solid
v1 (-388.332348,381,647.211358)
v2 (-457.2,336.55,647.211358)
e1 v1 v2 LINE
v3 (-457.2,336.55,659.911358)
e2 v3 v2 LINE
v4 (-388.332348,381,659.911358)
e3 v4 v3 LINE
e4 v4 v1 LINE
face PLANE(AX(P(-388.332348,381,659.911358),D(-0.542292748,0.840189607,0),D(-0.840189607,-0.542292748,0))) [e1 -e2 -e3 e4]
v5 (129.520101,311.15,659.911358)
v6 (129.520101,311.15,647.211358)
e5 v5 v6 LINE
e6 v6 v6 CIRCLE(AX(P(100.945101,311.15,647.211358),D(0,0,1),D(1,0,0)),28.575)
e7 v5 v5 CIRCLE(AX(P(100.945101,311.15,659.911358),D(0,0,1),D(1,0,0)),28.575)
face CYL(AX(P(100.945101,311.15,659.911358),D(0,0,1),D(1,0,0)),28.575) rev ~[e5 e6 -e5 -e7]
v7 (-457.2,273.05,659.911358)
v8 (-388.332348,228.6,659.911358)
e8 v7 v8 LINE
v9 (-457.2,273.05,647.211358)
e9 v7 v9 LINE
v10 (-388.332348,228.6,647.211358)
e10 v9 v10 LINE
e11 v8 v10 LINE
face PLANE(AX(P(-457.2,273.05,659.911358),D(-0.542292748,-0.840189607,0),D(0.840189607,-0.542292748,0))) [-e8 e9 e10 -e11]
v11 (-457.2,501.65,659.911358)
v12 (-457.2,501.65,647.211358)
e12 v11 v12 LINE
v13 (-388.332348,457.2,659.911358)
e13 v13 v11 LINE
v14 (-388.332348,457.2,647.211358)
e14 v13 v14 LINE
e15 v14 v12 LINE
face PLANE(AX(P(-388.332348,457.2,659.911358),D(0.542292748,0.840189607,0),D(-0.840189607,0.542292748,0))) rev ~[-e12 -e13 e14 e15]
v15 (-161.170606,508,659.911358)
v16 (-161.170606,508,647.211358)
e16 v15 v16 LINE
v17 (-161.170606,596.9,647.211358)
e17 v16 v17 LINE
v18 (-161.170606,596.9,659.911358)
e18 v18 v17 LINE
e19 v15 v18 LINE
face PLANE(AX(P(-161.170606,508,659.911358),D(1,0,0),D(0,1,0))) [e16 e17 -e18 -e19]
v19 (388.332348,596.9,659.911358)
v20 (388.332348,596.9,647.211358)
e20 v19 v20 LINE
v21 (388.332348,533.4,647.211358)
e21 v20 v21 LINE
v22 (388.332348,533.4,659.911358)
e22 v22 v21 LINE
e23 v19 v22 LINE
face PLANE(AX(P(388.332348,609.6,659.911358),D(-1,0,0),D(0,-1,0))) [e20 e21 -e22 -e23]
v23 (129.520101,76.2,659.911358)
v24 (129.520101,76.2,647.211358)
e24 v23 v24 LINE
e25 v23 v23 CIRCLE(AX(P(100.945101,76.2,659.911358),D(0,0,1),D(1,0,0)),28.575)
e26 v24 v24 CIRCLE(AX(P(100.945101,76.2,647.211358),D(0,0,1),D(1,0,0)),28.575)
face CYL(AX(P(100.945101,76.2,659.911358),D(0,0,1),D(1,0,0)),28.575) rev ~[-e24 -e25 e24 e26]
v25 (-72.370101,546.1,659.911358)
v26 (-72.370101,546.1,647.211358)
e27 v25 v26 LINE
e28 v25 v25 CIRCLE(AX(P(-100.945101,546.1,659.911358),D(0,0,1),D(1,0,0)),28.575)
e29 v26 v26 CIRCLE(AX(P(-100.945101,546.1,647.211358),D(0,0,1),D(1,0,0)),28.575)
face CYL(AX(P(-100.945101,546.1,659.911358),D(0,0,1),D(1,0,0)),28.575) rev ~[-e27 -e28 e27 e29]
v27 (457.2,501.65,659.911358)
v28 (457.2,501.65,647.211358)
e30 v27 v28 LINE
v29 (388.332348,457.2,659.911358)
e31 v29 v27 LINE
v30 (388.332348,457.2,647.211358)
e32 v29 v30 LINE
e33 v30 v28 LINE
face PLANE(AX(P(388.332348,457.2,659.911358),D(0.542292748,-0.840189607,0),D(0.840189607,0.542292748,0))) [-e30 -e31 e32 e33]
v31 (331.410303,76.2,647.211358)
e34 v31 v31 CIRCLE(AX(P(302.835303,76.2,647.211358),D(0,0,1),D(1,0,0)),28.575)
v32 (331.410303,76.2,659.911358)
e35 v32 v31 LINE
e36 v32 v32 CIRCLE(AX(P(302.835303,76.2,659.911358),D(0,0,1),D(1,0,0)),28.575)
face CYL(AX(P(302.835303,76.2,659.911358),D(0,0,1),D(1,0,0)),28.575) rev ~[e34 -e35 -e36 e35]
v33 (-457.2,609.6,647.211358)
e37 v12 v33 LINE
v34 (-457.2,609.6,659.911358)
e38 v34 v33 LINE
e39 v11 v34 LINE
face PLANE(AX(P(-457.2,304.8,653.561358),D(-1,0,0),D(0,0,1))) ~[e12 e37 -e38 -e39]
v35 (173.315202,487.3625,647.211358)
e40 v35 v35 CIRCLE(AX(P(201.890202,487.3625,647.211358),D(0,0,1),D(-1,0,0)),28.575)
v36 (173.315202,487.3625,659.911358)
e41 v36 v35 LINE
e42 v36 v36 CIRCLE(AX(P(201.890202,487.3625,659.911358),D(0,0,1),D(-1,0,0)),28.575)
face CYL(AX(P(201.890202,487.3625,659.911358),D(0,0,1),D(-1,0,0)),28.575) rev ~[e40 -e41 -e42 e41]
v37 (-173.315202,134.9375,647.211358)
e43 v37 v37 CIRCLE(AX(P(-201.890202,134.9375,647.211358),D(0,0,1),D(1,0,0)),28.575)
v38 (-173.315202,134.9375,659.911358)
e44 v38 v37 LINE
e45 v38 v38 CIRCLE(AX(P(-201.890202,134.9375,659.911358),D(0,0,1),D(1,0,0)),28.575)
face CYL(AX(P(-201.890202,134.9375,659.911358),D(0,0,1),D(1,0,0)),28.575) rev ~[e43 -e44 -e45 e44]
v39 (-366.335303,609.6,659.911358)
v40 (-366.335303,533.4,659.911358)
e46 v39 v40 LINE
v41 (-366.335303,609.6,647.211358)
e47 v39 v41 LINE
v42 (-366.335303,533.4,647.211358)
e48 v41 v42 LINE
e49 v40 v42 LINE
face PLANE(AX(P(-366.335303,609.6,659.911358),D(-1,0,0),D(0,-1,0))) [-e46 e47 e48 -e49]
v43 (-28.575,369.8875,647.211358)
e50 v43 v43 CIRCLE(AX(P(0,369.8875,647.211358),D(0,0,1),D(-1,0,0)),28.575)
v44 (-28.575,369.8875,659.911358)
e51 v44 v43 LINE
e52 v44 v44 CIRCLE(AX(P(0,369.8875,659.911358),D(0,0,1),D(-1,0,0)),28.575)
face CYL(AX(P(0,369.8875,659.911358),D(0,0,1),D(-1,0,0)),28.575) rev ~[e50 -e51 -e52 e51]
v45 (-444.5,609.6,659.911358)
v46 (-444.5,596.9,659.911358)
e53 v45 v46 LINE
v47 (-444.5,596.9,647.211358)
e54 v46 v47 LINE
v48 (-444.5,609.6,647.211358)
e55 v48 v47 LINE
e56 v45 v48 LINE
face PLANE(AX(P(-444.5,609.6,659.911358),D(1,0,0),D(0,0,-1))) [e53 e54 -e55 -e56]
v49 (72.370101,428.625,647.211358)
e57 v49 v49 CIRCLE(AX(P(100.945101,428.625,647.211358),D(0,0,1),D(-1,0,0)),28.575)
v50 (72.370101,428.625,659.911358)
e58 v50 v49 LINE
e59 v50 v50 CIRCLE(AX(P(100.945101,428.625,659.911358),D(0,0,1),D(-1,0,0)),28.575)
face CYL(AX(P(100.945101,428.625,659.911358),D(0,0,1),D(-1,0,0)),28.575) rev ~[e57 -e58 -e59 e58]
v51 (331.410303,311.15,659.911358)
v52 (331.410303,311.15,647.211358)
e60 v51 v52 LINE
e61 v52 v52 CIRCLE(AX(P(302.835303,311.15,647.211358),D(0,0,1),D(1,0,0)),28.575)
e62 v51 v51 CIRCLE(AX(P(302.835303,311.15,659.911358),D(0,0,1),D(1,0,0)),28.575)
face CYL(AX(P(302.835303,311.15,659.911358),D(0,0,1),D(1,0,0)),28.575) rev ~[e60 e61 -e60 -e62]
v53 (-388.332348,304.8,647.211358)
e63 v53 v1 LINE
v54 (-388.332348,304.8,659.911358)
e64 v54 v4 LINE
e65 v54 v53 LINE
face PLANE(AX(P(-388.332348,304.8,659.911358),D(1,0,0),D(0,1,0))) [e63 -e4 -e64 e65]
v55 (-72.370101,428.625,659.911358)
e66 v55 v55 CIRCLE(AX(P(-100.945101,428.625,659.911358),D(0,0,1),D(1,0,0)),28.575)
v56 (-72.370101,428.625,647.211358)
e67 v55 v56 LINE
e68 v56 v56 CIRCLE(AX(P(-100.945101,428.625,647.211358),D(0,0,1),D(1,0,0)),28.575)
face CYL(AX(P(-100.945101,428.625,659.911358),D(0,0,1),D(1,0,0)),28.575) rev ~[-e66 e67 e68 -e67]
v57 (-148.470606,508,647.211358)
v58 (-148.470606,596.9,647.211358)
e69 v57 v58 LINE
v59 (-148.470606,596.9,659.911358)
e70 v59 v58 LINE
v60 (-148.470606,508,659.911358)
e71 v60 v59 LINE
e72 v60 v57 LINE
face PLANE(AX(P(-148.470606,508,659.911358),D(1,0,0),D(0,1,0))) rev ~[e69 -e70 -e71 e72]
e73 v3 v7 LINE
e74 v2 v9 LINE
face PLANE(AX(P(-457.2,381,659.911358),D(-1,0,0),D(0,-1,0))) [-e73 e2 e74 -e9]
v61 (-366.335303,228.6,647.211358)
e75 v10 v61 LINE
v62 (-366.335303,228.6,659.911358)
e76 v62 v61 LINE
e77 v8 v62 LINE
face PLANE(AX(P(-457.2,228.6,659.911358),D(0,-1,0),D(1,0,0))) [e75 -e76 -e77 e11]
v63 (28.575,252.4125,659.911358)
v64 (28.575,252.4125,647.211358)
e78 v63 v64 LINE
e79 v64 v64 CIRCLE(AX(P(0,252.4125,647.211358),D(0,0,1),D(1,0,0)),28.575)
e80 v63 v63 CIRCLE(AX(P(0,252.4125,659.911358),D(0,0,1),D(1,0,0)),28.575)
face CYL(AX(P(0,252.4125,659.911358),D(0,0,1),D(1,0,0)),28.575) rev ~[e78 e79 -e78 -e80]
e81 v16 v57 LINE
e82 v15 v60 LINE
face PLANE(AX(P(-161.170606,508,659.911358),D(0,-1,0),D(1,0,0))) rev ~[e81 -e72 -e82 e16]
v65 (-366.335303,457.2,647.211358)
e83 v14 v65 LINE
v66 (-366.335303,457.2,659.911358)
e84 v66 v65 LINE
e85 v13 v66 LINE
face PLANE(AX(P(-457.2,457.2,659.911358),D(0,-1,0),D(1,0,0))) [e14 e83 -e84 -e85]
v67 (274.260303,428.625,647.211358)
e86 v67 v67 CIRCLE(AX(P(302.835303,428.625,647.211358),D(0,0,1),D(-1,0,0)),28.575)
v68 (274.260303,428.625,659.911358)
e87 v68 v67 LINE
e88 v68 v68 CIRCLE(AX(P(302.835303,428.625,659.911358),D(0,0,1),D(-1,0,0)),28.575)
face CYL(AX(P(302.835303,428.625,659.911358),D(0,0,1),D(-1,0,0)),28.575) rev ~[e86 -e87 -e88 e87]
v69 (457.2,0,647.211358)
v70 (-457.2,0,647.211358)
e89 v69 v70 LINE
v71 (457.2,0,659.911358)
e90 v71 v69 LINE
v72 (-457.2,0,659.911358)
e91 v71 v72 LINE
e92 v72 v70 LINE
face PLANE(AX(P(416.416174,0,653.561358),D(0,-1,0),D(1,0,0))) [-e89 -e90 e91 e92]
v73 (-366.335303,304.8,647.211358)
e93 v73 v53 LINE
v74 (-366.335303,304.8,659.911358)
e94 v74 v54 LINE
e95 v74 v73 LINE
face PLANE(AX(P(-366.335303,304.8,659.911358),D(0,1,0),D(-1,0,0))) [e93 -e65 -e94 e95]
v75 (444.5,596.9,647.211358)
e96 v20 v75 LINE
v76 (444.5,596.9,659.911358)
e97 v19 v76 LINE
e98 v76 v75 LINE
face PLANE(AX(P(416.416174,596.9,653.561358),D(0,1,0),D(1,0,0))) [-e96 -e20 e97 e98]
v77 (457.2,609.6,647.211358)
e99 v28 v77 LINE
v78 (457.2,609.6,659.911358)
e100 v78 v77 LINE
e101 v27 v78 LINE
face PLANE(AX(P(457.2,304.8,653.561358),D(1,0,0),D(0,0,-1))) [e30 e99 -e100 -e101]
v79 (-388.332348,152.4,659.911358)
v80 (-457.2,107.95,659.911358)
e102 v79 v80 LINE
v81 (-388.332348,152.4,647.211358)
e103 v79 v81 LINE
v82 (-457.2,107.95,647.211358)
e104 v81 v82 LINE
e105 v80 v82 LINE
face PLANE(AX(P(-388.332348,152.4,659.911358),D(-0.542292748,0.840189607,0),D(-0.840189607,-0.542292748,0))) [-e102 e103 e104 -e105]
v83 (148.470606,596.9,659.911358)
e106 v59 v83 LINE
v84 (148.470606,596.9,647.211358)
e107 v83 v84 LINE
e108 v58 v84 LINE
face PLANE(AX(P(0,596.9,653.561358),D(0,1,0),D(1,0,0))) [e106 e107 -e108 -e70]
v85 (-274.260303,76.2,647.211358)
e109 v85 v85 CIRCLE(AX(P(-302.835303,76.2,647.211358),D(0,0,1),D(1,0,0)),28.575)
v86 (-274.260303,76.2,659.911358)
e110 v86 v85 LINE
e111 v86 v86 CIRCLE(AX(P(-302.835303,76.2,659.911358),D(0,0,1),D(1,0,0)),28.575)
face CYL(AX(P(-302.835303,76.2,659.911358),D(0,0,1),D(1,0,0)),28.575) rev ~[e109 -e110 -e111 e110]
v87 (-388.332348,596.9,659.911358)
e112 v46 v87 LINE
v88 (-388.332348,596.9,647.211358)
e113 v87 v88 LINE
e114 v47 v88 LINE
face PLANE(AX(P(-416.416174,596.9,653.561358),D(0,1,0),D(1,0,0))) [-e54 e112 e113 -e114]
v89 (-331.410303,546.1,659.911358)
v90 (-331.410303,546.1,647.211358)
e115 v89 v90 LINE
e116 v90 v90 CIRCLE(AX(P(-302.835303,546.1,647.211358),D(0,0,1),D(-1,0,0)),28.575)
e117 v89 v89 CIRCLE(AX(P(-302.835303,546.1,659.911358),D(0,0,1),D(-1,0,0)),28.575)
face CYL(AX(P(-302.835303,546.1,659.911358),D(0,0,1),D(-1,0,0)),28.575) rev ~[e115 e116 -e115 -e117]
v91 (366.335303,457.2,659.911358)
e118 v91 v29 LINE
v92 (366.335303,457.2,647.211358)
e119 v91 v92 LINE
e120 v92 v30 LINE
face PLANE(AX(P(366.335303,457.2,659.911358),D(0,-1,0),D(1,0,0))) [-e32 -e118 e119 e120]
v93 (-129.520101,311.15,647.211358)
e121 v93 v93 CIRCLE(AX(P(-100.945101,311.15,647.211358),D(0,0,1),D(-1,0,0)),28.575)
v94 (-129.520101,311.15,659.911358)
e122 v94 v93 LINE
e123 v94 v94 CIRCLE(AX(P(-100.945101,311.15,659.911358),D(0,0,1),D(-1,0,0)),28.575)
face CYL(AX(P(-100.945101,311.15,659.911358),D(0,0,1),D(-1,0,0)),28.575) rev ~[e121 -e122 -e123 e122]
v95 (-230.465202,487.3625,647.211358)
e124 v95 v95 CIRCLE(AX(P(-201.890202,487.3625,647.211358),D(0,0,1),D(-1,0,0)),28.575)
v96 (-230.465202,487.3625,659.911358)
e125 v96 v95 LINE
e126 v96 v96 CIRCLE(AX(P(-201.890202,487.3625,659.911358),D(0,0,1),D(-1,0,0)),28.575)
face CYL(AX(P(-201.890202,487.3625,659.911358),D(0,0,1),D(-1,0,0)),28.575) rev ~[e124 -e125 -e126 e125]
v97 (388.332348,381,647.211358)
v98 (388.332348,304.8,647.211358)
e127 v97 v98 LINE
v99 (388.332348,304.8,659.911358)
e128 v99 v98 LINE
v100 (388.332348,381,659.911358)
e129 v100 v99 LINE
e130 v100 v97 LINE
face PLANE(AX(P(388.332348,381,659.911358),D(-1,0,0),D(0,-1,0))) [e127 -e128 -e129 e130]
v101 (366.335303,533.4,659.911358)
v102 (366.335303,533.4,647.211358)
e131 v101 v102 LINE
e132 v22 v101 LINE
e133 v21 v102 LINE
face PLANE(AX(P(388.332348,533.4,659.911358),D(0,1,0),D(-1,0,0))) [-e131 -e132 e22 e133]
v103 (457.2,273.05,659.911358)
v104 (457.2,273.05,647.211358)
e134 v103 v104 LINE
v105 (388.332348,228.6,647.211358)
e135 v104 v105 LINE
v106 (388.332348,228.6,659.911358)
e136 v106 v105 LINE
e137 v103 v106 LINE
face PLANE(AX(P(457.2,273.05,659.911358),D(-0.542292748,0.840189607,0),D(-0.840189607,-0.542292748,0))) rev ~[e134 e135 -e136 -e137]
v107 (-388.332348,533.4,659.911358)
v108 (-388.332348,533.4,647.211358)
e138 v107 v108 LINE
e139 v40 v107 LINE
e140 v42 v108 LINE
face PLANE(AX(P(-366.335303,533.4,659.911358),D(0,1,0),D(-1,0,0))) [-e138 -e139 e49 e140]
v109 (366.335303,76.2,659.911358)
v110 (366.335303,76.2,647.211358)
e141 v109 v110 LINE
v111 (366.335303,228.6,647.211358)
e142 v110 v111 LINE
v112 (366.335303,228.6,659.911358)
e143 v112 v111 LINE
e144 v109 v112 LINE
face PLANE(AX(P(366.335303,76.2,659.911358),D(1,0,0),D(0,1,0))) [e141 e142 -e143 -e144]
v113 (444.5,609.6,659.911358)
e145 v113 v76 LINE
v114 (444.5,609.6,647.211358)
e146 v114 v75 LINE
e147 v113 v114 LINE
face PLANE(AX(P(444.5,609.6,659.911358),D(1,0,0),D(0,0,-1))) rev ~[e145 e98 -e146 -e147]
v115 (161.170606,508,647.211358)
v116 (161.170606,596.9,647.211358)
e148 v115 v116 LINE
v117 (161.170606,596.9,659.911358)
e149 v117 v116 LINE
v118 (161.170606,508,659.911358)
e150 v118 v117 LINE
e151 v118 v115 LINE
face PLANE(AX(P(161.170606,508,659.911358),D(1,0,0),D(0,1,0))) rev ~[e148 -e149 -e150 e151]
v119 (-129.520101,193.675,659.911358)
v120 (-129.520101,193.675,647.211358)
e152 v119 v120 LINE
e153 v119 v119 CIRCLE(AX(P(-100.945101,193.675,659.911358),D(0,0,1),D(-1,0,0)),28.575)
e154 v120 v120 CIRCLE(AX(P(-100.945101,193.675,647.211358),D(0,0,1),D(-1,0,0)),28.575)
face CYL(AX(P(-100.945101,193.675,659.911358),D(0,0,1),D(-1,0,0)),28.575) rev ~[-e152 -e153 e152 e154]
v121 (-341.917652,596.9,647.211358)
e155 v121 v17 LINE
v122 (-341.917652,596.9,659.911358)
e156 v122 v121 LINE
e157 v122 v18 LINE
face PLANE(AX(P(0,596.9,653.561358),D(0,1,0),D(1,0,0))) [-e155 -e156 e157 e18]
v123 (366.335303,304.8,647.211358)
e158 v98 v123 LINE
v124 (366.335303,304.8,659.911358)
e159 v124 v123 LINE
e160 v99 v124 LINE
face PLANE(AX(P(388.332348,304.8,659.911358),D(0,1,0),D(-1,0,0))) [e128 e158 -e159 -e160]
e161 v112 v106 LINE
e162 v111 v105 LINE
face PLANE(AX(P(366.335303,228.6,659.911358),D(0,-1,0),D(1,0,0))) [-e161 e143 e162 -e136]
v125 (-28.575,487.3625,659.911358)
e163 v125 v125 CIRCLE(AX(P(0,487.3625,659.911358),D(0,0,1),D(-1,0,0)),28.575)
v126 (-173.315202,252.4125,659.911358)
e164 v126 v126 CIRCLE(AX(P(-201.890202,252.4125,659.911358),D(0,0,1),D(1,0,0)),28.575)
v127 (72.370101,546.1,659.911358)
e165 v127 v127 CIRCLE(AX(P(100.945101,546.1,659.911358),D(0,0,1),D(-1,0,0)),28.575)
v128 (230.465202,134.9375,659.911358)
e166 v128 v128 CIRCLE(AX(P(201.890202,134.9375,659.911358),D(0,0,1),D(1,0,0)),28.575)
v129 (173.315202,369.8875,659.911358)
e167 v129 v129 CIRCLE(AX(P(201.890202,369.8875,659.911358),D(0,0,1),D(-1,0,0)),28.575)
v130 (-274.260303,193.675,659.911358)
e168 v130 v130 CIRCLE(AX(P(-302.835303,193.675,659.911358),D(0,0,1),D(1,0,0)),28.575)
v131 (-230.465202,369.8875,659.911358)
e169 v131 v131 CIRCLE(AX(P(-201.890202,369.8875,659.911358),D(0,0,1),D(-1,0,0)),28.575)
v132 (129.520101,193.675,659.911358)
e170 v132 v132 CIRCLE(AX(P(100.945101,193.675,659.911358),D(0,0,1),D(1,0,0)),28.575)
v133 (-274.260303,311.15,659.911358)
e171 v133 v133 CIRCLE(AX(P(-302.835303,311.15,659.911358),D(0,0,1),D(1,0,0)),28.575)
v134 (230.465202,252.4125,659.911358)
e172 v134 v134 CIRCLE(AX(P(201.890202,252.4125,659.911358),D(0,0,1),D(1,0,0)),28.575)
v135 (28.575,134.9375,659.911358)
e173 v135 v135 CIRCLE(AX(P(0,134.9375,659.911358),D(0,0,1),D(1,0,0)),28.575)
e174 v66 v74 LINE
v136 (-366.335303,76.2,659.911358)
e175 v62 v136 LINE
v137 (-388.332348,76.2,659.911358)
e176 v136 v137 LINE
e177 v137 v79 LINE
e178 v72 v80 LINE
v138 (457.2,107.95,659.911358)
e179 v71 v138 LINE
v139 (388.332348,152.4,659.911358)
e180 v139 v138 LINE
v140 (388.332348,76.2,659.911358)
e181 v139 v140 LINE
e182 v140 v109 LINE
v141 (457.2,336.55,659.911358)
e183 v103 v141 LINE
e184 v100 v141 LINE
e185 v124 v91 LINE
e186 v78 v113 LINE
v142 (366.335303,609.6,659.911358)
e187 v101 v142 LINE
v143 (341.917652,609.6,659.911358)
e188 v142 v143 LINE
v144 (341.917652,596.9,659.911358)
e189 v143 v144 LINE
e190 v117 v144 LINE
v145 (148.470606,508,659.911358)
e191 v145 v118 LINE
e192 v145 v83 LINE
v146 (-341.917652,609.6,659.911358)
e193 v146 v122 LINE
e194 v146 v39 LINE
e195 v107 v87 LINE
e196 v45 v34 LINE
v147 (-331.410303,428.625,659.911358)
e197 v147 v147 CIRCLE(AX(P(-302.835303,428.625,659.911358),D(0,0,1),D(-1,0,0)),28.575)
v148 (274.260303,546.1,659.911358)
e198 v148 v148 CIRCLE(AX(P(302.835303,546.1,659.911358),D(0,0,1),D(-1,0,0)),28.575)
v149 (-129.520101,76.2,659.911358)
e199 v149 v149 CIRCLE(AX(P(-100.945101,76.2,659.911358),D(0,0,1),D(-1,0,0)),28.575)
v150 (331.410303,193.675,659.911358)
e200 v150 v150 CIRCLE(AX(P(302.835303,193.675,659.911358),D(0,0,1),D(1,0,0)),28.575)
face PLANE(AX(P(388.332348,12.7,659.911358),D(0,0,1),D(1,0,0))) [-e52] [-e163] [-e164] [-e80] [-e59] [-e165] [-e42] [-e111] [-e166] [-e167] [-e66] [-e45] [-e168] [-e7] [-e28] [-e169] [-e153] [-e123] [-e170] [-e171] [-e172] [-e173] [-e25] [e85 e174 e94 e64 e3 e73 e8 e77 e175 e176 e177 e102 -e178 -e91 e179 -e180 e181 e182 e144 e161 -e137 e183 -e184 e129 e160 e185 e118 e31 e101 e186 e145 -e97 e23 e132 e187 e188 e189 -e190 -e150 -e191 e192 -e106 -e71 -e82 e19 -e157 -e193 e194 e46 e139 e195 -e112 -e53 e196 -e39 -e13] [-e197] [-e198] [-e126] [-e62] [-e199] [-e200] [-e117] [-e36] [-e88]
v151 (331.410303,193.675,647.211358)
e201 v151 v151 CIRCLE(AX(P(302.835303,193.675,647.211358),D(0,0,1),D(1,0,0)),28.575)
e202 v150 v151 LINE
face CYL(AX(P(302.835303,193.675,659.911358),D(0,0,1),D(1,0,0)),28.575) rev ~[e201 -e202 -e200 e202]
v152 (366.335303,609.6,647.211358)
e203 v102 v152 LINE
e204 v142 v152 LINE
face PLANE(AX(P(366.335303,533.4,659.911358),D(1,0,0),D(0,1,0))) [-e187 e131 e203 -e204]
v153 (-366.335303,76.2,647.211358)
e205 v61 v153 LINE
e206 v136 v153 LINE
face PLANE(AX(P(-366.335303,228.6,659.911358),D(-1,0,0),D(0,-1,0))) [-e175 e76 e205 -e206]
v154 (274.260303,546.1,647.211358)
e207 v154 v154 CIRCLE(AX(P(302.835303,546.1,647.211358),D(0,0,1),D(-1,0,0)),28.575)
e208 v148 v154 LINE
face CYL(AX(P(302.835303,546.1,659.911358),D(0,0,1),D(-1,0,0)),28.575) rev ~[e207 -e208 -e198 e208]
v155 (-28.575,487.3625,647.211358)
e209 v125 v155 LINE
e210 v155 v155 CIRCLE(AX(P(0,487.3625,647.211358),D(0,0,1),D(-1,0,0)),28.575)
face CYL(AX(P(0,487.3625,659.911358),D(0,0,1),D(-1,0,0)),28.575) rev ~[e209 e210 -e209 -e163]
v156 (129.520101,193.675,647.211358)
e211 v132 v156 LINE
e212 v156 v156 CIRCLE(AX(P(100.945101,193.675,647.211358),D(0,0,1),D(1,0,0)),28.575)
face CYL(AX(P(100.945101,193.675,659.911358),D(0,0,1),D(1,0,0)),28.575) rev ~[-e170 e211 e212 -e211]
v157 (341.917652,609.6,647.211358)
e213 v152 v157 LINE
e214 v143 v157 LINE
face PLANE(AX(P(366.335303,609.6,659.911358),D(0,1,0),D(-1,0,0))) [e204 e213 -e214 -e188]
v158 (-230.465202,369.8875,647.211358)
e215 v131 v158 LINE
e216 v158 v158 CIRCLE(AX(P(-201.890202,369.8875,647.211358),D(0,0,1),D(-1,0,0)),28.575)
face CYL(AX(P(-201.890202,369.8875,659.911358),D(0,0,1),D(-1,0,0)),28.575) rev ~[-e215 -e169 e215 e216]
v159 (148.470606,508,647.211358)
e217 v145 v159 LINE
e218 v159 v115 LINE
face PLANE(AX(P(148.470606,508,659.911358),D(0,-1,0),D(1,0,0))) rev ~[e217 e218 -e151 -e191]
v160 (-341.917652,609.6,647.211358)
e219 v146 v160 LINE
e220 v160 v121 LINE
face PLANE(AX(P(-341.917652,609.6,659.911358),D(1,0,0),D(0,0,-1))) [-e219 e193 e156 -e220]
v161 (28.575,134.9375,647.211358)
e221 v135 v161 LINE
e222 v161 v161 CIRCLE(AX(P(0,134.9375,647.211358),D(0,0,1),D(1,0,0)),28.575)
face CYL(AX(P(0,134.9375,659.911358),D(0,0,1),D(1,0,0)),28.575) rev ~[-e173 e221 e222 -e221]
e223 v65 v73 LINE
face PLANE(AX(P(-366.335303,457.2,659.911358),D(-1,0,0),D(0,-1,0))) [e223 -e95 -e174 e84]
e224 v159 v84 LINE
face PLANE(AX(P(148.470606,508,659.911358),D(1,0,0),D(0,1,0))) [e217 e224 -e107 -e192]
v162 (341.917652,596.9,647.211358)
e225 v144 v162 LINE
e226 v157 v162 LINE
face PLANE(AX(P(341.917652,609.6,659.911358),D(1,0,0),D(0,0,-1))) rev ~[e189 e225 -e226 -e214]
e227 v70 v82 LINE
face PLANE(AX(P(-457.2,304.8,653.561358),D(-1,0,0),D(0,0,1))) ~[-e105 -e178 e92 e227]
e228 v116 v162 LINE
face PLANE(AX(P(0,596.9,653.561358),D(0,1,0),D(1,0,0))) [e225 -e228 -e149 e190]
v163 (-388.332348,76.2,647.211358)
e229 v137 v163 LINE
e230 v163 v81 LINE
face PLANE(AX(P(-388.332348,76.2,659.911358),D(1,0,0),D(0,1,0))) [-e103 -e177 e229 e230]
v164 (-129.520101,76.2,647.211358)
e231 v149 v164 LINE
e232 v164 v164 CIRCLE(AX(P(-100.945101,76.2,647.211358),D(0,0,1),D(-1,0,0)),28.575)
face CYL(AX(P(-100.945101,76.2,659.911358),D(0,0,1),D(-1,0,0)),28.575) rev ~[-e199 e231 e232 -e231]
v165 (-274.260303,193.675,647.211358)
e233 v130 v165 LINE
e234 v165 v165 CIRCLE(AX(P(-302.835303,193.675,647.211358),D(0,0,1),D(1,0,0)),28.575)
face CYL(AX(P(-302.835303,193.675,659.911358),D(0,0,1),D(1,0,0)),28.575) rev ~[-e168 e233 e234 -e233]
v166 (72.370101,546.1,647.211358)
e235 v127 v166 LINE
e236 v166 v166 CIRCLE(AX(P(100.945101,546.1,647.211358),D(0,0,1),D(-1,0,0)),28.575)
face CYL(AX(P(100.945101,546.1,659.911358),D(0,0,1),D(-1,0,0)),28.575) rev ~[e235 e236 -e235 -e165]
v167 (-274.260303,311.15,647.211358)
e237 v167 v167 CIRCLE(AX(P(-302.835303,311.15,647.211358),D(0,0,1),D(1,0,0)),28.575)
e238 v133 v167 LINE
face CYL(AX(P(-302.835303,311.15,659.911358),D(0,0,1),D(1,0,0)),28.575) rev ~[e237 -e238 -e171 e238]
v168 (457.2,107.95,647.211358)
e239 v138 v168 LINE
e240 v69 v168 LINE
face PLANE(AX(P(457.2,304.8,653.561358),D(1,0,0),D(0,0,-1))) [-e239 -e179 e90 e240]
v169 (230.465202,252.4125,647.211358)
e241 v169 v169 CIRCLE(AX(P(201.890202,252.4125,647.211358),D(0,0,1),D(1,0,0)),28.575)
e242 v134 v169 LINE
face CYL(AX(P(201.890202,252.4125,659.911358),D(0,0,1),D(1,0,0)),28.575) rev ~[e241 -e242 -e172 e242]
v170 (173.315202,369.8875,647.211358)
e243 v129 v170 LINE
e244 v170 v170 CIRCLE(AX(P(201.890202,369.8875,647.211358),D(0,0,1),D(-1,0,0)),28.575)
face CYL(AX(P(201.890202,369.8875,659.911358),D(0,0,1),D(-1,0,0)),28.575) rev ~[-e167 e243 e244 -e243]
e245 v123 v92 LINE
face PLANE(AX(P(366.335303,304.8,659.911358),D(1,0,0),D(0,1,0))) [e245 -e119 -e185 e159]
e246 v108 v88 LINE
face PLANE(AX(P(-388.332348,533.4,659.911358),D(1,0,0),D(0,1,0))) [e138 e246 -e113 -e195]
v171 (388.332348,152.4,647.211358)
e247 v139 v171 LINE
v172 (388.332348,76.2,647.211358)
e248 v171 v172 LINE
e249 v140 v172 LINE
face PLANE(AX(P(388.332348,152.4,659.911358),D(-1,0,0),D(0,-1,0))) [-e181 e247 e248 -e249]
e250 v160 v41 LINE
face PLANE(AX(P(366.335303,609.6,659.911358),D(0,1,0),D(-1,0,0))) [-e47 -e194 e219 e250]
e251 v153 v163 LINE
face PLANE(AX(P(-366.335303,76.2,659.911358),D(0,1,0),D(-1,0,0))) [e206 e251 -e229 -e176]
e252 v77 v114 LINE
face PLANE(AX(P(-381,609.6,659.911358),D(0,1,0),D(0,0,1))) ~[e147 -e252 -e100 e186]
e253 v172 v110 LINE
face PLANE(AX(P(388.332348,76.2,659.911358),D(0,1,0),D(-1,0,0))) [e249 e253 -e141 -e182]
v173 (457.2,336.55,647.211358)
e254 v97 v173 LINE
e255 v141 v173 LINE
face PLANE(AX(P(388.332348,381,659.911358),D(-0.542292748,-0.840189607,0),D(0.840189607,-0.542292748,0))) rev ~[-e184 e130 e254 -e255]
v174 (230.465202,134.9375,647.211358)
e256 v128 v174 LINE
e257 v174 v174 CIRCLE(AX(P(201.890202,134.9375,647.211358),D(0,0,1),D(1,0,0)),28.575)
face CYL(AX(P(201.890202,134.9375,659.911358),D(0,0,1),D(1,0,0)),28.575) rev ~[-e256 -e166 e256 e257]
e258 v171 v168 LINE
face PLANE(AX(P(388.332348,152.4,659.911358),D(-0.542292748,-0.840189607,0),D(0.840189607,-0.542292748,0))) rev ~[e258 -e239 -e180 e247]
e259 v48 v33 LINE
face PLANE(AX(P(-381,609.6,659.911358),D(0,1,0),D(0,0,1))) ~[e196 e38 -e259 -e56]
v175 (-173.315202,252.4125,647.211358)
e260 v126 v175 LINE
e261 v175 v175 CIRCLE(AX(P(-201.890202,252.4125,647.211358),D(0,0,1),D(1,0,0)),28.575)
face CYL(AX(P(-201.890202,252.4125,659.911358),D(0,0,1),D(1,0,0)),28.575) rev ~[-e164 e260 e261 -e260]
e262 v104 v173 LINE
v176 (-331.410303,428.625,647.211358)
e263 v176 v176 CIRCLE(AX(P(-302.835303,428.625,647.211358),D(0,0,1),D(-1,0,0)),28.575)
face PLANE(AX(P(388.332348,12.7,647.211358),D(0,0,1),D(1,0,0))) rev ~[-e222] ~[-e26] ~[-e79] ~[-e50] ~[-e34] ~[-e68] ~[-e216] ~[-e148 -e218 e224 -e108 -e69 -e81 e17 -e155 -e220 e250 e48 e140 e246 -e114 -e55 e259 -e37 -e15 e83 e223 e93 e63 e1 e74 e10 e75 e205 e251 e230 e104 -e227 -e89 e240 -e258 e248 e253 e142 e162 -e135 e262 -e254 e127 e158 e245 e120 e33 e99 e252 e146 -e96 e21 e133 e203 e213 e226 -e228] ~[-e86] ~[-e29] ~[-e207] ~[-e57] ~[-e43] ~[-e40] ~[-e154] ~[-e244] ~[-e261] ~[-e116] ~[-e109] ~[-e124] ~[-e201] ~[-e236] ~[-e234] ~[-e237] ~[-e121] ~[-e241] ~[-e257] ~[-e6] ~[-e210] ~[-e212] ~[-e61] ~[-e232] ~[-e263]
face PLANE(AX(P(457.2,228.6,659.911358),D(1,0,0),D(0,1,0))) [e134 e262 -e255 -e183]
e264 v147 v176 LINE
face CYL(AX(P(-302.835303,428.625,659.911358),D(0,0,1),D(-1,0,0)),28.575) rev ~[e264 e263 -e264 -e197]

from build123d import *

# Parameters (mm, degrees)
SKETCH1_W           = 762
SKETCH1_H           = 12.7
BOSS_EXTRUDE1_DEPTH = 609.6
SKETCH2_W           = 12.7
SKETCH2_H           = 609.6
BOSS_EXTRUDE2_DEPTH = 76.2
SKETCH3_OUTSIDE_W   = 1136.21
SKETCH3_OUTSIDE_H   = 831.41
CUT_EXTRUDE1_DEPTH  = 12.7
SKETCH6_W           = 56.167651581
SKETCH6_H           = 12.7
SKETCH6_W_2         = 683.835303162
CUT_EXTRUDE2_DEPTH  = 12.7
CUT_EXTRUDE5_DEPTH  = 12.7
SKETCH7_W           = 12.7
SKETCH7_H           = 88.9
CUT_EXTRUDE3_DEPTH  = 12.7
SKETCH10_R          = 28.575
CUT_EXTRUDE4_DEPTH  = 763.105825985
BOSS_EXTRUDE5_START = -88.9
SKETCH11_W          = 12.7
SKETCH11_H          = 12.7
BOSS_EXTRUDE5_DEPTH = 88.9
SKETCH12_W          = 56.167651581
SKETCH12_H          = 12.7
SKETCH12_W_2        = 683.835303162
BOSS_EXTRUDE6_DEPTH = 12.7


with BuildPart() as part:
    # Sketch1 → Boss-Extrude1 (new body)
    with BuildSketch(Plane(origin=(0, 0, 0), x_dir=(1, 0, 0), z_dir=(0, 1, 0))):
        with Locations((0, -653.561357684)):
            Rectangle(SKETCH1_W, SKETCH1_H)
    extrude(amount=BOSS_EXTRUDE1_DEPTH)

    # Sketch2 → Boss-Extrude2 (add)
    with BuildSketch(Plane(origin=(381, 0, 0), x_dir=(0, 0, -1), z_dir=(1, 0, 0))):
        with Locations((-653.561357684, 304.8)):
            Rectangle(SKETCH2_W, SKETCH2_H)
    boss_extrude2 = extrude(amount=BOSS_EXTRUDE2_DEPTH)

    # Mirror1: Boss-Extrude2 across plane
    add(boss_extrude2.mirror(Plane(origin=(0, 0, 0), x_dir=(0, 0, 1), z_dir=(1, 0, 0))))

    # Sketch3 outside → Cut-Extrude1 (cut)
    with BuildSketch(Plane.XY.offset(659.911357684)):
        with Locations((0, 304.8)):
            Rectangle(SKETCH3_OUTSIDE_W, SKETCH3_OUTSIDE_H)
        Polygon((366.335303163, 609.6), (-366.335303163, 609.6), (-366.335303163, 533.4), (-388.332348419, 533.4), (-388.332348419, 609.6), (-457.2, 609.6), (-457.2, 457.2), (-366.335303163, 457.2), (-366.335303163, 304.8), (-388.332348419, 304.8), (-388.332348419, 381), (-457.2, 381), (-457.2, 228.6), (-366.335303163, 228.6), (-366.335303163, 76.2), (-388.332348419, 76.2), (-388.332348419, 152.4), (-457.2, 152.4), (-457.2, 0), (457.2, 0), (457.2, 152.4), (388.332348419, 152.4), (388.332348419, 76.2), (366.335303163, 76.2), (366.335303163, 228.6), (457.2, 228.6), (457.2, 381), (388.332348419, 381), (388.332348419, 304.8), (366.335303163, 304.8), (366.335303163, 457.2), (457.2, 457.2), (457.2, 609.6), (388.332348419, 609.6), (388.332348419, 533.4), (366.335303163, 533.4), align=None, mode=Mode.SUBTRACT)
    extrude(amount=-CUT_EXTRUDE1_DEPTH, mode=Mode.SUBTRACT)

    # Sketch6 → Cut-Extrude2 (cut)
    with BuildSketch(Plane(origin=(0, 609.6, 0), x_dir=(1, 0, 0), z_dir=(0, 1, 0))):
        with Locations((-416.41617421, -653.561357684)):
            Rectangle(SKETCH6_W, SKETCH6_H)
        with Locations((0, -653.561357684)):
            Rectangle(SKETCH6_W_2, SKETCH6_H)
        with Locations((416.41617421, -653.561357684)):
            Rectangle(SKETCH6_W, SKETCH6_H)
    cut_extrude2 = extrude(amount=-CUT_EXTRUDE2_DEPTH, mode=Mode.SUBTRACT)

    # Sketch14 → Cut-Extrude5 (cut)
    with BuildSketch(Plane.XY.offset(659.911357684)):
        Polygon((-388.332348419, 457.2), (-457.2, 501.65), (-457.2, 457.2), align=None)
        Polygon((-388.332348419, 381), (-457.2, 336.55), (-457.2, 381), align=None)
        Polygon((-388.332348419, 152.4), (-457.2, 107.95), (-457.2, 152.4), align=None)
        Polygon((457.2, 152.4), (388.332348419, 152.4), (457.2, 107.95), align=None)
        Polygon((457.2, 381), (388.332348419, 381), (457.2, 336.55), align=None)
        Polygon((457.2, 457.2), (388.332348419, 457.2), (457.2, 501.65), align=None)
        Polygon((-457.2, 273.05), (-388.332348419, 228.6), (-457.2, 228.6), align=None)
        Polygon((388.332348419, 228.6), (457.2, 228.6), (457.2, 273.05), align=None)
    extrude(amount=-CUT_EXTRUDE5_DEPTH, mode=Mode.SUBTRACT)

    # Sketch7 → Cut-Extrude3 (cut)
    with BuildSketch(Plane.XY.offset(659.911357684)):
        with Locations((154.820606325, 552.45)):
            Rectangle(SKETCH7_W, SKETCH7_H)
        with Locations((-154.820606325, 552.45)):
            Rectangle(SKETCH7_W, SKETCH7_H)
    cut_extrude3 = extrude(amount=-CUT_EXTRUDE3_DEPTH, mode=Mode.SUBTRACT)

    # Mirror2: Cut-Extrude2, Cut-Extrude3 across plane
    add(cut_extrude2.mirror(Plane(origin=(0, 304.8, 0), x_dir=(0, 0, 1), z_dir=(0, -1, 0))), mode=Mode.SUBTRACT)
    add(cut_extrude3.mirror(Plane(origin=(0, 304.8, 0), x_dir=(0, 0, 1), z_dir=(0, -1, 0))), mode=Mode.SUBTRACT)

    # Sketch10 → Cut-Extrude4 (cut, through all)
    with BuildSketch(Plane.XY.offset(659.911357684)):
        with Locations((-302.835303163, 311.15)):
            Circle(SKETCH10_R)
        with Locations((-302.835303163, 193.675)):
            Circle(SKETCH10_R)
        with Locations((-302.835303163, 76.2)):
            Circle(SKETCH10_R)
        with Locations(Location((-100.945101054, 76.2, 0), (0, 0, 180))):
            Circle(SKETCH10_R)
        with Locations(Location((-100.945101054, 193.675, 0), (0, 0, 180))):
            Circle(SKETCH10_R)
        with Locations(Location((-100.945101054, 311.15, 0), (0, 0, 180))):
            Circle(SKETCH10_R)
        with Locations((-201.890202108, 252.4125)):
            Circle(SKETCH10_R)
        with Locations((-201.890202108, 134.9375)):
            Circle(SKETCH10_R)
        with Locations((100.945101054, 193.675)):
            Circle(SKETCH10_R)
        with Locations((302.835303163, 193.675)):
            Circle(SKETCH10_R)
        with Locations((100.945101054, 311.15)):
            Circle(SKETCH10_R)
        with Locations((302.835303163, 311.15)):
            Circle(SKETCH10_R)
        with Locations((100.945101054, 76.2)):
            Circle(SKETCH10_R)
        with Locations((302.835303163, 76.2)):
            Circle(SKETCH10_R)
        with Locations((0, 134.9375)):
            Circle(SKETCH10_R)
        with Locations((0, 252.4125)):
            Circle(SKETCH10_R)
        with Locations((201.890202108, 252.4125)):
            Circle(SKETCH10_R)
        with Locations((201.890202108, 134.9375)):
            Circle(SKETCH10_R)
        with Locations(Location((302.835303163, 546.1, 0), (0, 0, 180))):
            Circle(SKETCH10_R)
        with Locations(Location((302.835303163, 428.625, 0), (0, 0, 180))):
            Circle(SKETCH10_R)
        with Locations(Location((201.890202108, 369.8875, 0), (0, 0, 180))):
            Circle(SKETCH10_R)
        with Locations(Location((201.890202108, 487.3625, 0), (0, 0, 180))):
            Circle(SKETCH10_R)
        with Locations(Location((100.945101054, 546.1, 0), (0, 0, 180))):
            Circle(SKETCH10_R)
        with Locations(Location((100.945101054, 428.625, 0), (0, 0, 180))):
            Circle(SKETCH10_R)
        with Locations(Location((0, 487.3625, 0), (0, 0, 180))):
            Circle(SKETCH10_R)
        with Locations(Location((0, 369.8875, 0), (0, 0, 180))):
            Circle(SKETCH10_R)
        with Locations((-100.945101054, 428.625)):
            Circle(SKETCH10_R)
        with Locations((-100.945101054, 546.1)):
            Circle(SKETCH10_R)
        with Locations(Location((-201.890202108, 487.3625, 0), (0, 0, 180))):
            Circle(SKETCH10_R)
        with Locations(Location((-302.835303163, 546.1, 0), (0, 0, 180))):
            Circle(SKETCH10_R)
        with Locations(Location((-302.835303163, 428.625, 0), (0, 0, 180))):
            Circle(SKETCH10_R)
        with Locations(Location((-201.890202108, 369.8875, 0), (0, 0, 180))):
            Circle(SKETCH10_R)
    extrude(amount=-CUT_EXTRUDE4_DEPTH, mode=Mode.SUBTRACT)

    # Sketch11 → Boss-Extrude5 (add)
    with BuildSketch(Plane.XZ.offset(-12.7).offset(BOSS_EXTRUDE5_START)):
        with Locations((154.820606325, 653.561357684)):
            Rectangle(SKETCH11_W, SKETCH11_H)
        with Locations((-154.820606325, 653.561357684)):
            Rectangle(SKETCH11_W, SKETCH11_H)
    extrude(amount=BOSS_EXTRUDE5_DEPTH)

    # Sketch12 → Boss-Extrude6 (add)
    with BuildSketch(Plane.XZ.offset(-12.7)):
        with Locations((416.41617421, 653.561357684)):
            Rectangle(SKETCH12_W, SKETCH12_H)
        with Locations((-416.41617421, 653.561357684)):
            Rectangle(SKETCH12_W, SKETCH12_H)
        with Locations((0, 653.561357684)):
            Rectangle(SKETCH12_W_2, SKETCH12_H)
    extrude(amount=BOSS_EXTRUDE6_DEPTH)


solid = part.part
